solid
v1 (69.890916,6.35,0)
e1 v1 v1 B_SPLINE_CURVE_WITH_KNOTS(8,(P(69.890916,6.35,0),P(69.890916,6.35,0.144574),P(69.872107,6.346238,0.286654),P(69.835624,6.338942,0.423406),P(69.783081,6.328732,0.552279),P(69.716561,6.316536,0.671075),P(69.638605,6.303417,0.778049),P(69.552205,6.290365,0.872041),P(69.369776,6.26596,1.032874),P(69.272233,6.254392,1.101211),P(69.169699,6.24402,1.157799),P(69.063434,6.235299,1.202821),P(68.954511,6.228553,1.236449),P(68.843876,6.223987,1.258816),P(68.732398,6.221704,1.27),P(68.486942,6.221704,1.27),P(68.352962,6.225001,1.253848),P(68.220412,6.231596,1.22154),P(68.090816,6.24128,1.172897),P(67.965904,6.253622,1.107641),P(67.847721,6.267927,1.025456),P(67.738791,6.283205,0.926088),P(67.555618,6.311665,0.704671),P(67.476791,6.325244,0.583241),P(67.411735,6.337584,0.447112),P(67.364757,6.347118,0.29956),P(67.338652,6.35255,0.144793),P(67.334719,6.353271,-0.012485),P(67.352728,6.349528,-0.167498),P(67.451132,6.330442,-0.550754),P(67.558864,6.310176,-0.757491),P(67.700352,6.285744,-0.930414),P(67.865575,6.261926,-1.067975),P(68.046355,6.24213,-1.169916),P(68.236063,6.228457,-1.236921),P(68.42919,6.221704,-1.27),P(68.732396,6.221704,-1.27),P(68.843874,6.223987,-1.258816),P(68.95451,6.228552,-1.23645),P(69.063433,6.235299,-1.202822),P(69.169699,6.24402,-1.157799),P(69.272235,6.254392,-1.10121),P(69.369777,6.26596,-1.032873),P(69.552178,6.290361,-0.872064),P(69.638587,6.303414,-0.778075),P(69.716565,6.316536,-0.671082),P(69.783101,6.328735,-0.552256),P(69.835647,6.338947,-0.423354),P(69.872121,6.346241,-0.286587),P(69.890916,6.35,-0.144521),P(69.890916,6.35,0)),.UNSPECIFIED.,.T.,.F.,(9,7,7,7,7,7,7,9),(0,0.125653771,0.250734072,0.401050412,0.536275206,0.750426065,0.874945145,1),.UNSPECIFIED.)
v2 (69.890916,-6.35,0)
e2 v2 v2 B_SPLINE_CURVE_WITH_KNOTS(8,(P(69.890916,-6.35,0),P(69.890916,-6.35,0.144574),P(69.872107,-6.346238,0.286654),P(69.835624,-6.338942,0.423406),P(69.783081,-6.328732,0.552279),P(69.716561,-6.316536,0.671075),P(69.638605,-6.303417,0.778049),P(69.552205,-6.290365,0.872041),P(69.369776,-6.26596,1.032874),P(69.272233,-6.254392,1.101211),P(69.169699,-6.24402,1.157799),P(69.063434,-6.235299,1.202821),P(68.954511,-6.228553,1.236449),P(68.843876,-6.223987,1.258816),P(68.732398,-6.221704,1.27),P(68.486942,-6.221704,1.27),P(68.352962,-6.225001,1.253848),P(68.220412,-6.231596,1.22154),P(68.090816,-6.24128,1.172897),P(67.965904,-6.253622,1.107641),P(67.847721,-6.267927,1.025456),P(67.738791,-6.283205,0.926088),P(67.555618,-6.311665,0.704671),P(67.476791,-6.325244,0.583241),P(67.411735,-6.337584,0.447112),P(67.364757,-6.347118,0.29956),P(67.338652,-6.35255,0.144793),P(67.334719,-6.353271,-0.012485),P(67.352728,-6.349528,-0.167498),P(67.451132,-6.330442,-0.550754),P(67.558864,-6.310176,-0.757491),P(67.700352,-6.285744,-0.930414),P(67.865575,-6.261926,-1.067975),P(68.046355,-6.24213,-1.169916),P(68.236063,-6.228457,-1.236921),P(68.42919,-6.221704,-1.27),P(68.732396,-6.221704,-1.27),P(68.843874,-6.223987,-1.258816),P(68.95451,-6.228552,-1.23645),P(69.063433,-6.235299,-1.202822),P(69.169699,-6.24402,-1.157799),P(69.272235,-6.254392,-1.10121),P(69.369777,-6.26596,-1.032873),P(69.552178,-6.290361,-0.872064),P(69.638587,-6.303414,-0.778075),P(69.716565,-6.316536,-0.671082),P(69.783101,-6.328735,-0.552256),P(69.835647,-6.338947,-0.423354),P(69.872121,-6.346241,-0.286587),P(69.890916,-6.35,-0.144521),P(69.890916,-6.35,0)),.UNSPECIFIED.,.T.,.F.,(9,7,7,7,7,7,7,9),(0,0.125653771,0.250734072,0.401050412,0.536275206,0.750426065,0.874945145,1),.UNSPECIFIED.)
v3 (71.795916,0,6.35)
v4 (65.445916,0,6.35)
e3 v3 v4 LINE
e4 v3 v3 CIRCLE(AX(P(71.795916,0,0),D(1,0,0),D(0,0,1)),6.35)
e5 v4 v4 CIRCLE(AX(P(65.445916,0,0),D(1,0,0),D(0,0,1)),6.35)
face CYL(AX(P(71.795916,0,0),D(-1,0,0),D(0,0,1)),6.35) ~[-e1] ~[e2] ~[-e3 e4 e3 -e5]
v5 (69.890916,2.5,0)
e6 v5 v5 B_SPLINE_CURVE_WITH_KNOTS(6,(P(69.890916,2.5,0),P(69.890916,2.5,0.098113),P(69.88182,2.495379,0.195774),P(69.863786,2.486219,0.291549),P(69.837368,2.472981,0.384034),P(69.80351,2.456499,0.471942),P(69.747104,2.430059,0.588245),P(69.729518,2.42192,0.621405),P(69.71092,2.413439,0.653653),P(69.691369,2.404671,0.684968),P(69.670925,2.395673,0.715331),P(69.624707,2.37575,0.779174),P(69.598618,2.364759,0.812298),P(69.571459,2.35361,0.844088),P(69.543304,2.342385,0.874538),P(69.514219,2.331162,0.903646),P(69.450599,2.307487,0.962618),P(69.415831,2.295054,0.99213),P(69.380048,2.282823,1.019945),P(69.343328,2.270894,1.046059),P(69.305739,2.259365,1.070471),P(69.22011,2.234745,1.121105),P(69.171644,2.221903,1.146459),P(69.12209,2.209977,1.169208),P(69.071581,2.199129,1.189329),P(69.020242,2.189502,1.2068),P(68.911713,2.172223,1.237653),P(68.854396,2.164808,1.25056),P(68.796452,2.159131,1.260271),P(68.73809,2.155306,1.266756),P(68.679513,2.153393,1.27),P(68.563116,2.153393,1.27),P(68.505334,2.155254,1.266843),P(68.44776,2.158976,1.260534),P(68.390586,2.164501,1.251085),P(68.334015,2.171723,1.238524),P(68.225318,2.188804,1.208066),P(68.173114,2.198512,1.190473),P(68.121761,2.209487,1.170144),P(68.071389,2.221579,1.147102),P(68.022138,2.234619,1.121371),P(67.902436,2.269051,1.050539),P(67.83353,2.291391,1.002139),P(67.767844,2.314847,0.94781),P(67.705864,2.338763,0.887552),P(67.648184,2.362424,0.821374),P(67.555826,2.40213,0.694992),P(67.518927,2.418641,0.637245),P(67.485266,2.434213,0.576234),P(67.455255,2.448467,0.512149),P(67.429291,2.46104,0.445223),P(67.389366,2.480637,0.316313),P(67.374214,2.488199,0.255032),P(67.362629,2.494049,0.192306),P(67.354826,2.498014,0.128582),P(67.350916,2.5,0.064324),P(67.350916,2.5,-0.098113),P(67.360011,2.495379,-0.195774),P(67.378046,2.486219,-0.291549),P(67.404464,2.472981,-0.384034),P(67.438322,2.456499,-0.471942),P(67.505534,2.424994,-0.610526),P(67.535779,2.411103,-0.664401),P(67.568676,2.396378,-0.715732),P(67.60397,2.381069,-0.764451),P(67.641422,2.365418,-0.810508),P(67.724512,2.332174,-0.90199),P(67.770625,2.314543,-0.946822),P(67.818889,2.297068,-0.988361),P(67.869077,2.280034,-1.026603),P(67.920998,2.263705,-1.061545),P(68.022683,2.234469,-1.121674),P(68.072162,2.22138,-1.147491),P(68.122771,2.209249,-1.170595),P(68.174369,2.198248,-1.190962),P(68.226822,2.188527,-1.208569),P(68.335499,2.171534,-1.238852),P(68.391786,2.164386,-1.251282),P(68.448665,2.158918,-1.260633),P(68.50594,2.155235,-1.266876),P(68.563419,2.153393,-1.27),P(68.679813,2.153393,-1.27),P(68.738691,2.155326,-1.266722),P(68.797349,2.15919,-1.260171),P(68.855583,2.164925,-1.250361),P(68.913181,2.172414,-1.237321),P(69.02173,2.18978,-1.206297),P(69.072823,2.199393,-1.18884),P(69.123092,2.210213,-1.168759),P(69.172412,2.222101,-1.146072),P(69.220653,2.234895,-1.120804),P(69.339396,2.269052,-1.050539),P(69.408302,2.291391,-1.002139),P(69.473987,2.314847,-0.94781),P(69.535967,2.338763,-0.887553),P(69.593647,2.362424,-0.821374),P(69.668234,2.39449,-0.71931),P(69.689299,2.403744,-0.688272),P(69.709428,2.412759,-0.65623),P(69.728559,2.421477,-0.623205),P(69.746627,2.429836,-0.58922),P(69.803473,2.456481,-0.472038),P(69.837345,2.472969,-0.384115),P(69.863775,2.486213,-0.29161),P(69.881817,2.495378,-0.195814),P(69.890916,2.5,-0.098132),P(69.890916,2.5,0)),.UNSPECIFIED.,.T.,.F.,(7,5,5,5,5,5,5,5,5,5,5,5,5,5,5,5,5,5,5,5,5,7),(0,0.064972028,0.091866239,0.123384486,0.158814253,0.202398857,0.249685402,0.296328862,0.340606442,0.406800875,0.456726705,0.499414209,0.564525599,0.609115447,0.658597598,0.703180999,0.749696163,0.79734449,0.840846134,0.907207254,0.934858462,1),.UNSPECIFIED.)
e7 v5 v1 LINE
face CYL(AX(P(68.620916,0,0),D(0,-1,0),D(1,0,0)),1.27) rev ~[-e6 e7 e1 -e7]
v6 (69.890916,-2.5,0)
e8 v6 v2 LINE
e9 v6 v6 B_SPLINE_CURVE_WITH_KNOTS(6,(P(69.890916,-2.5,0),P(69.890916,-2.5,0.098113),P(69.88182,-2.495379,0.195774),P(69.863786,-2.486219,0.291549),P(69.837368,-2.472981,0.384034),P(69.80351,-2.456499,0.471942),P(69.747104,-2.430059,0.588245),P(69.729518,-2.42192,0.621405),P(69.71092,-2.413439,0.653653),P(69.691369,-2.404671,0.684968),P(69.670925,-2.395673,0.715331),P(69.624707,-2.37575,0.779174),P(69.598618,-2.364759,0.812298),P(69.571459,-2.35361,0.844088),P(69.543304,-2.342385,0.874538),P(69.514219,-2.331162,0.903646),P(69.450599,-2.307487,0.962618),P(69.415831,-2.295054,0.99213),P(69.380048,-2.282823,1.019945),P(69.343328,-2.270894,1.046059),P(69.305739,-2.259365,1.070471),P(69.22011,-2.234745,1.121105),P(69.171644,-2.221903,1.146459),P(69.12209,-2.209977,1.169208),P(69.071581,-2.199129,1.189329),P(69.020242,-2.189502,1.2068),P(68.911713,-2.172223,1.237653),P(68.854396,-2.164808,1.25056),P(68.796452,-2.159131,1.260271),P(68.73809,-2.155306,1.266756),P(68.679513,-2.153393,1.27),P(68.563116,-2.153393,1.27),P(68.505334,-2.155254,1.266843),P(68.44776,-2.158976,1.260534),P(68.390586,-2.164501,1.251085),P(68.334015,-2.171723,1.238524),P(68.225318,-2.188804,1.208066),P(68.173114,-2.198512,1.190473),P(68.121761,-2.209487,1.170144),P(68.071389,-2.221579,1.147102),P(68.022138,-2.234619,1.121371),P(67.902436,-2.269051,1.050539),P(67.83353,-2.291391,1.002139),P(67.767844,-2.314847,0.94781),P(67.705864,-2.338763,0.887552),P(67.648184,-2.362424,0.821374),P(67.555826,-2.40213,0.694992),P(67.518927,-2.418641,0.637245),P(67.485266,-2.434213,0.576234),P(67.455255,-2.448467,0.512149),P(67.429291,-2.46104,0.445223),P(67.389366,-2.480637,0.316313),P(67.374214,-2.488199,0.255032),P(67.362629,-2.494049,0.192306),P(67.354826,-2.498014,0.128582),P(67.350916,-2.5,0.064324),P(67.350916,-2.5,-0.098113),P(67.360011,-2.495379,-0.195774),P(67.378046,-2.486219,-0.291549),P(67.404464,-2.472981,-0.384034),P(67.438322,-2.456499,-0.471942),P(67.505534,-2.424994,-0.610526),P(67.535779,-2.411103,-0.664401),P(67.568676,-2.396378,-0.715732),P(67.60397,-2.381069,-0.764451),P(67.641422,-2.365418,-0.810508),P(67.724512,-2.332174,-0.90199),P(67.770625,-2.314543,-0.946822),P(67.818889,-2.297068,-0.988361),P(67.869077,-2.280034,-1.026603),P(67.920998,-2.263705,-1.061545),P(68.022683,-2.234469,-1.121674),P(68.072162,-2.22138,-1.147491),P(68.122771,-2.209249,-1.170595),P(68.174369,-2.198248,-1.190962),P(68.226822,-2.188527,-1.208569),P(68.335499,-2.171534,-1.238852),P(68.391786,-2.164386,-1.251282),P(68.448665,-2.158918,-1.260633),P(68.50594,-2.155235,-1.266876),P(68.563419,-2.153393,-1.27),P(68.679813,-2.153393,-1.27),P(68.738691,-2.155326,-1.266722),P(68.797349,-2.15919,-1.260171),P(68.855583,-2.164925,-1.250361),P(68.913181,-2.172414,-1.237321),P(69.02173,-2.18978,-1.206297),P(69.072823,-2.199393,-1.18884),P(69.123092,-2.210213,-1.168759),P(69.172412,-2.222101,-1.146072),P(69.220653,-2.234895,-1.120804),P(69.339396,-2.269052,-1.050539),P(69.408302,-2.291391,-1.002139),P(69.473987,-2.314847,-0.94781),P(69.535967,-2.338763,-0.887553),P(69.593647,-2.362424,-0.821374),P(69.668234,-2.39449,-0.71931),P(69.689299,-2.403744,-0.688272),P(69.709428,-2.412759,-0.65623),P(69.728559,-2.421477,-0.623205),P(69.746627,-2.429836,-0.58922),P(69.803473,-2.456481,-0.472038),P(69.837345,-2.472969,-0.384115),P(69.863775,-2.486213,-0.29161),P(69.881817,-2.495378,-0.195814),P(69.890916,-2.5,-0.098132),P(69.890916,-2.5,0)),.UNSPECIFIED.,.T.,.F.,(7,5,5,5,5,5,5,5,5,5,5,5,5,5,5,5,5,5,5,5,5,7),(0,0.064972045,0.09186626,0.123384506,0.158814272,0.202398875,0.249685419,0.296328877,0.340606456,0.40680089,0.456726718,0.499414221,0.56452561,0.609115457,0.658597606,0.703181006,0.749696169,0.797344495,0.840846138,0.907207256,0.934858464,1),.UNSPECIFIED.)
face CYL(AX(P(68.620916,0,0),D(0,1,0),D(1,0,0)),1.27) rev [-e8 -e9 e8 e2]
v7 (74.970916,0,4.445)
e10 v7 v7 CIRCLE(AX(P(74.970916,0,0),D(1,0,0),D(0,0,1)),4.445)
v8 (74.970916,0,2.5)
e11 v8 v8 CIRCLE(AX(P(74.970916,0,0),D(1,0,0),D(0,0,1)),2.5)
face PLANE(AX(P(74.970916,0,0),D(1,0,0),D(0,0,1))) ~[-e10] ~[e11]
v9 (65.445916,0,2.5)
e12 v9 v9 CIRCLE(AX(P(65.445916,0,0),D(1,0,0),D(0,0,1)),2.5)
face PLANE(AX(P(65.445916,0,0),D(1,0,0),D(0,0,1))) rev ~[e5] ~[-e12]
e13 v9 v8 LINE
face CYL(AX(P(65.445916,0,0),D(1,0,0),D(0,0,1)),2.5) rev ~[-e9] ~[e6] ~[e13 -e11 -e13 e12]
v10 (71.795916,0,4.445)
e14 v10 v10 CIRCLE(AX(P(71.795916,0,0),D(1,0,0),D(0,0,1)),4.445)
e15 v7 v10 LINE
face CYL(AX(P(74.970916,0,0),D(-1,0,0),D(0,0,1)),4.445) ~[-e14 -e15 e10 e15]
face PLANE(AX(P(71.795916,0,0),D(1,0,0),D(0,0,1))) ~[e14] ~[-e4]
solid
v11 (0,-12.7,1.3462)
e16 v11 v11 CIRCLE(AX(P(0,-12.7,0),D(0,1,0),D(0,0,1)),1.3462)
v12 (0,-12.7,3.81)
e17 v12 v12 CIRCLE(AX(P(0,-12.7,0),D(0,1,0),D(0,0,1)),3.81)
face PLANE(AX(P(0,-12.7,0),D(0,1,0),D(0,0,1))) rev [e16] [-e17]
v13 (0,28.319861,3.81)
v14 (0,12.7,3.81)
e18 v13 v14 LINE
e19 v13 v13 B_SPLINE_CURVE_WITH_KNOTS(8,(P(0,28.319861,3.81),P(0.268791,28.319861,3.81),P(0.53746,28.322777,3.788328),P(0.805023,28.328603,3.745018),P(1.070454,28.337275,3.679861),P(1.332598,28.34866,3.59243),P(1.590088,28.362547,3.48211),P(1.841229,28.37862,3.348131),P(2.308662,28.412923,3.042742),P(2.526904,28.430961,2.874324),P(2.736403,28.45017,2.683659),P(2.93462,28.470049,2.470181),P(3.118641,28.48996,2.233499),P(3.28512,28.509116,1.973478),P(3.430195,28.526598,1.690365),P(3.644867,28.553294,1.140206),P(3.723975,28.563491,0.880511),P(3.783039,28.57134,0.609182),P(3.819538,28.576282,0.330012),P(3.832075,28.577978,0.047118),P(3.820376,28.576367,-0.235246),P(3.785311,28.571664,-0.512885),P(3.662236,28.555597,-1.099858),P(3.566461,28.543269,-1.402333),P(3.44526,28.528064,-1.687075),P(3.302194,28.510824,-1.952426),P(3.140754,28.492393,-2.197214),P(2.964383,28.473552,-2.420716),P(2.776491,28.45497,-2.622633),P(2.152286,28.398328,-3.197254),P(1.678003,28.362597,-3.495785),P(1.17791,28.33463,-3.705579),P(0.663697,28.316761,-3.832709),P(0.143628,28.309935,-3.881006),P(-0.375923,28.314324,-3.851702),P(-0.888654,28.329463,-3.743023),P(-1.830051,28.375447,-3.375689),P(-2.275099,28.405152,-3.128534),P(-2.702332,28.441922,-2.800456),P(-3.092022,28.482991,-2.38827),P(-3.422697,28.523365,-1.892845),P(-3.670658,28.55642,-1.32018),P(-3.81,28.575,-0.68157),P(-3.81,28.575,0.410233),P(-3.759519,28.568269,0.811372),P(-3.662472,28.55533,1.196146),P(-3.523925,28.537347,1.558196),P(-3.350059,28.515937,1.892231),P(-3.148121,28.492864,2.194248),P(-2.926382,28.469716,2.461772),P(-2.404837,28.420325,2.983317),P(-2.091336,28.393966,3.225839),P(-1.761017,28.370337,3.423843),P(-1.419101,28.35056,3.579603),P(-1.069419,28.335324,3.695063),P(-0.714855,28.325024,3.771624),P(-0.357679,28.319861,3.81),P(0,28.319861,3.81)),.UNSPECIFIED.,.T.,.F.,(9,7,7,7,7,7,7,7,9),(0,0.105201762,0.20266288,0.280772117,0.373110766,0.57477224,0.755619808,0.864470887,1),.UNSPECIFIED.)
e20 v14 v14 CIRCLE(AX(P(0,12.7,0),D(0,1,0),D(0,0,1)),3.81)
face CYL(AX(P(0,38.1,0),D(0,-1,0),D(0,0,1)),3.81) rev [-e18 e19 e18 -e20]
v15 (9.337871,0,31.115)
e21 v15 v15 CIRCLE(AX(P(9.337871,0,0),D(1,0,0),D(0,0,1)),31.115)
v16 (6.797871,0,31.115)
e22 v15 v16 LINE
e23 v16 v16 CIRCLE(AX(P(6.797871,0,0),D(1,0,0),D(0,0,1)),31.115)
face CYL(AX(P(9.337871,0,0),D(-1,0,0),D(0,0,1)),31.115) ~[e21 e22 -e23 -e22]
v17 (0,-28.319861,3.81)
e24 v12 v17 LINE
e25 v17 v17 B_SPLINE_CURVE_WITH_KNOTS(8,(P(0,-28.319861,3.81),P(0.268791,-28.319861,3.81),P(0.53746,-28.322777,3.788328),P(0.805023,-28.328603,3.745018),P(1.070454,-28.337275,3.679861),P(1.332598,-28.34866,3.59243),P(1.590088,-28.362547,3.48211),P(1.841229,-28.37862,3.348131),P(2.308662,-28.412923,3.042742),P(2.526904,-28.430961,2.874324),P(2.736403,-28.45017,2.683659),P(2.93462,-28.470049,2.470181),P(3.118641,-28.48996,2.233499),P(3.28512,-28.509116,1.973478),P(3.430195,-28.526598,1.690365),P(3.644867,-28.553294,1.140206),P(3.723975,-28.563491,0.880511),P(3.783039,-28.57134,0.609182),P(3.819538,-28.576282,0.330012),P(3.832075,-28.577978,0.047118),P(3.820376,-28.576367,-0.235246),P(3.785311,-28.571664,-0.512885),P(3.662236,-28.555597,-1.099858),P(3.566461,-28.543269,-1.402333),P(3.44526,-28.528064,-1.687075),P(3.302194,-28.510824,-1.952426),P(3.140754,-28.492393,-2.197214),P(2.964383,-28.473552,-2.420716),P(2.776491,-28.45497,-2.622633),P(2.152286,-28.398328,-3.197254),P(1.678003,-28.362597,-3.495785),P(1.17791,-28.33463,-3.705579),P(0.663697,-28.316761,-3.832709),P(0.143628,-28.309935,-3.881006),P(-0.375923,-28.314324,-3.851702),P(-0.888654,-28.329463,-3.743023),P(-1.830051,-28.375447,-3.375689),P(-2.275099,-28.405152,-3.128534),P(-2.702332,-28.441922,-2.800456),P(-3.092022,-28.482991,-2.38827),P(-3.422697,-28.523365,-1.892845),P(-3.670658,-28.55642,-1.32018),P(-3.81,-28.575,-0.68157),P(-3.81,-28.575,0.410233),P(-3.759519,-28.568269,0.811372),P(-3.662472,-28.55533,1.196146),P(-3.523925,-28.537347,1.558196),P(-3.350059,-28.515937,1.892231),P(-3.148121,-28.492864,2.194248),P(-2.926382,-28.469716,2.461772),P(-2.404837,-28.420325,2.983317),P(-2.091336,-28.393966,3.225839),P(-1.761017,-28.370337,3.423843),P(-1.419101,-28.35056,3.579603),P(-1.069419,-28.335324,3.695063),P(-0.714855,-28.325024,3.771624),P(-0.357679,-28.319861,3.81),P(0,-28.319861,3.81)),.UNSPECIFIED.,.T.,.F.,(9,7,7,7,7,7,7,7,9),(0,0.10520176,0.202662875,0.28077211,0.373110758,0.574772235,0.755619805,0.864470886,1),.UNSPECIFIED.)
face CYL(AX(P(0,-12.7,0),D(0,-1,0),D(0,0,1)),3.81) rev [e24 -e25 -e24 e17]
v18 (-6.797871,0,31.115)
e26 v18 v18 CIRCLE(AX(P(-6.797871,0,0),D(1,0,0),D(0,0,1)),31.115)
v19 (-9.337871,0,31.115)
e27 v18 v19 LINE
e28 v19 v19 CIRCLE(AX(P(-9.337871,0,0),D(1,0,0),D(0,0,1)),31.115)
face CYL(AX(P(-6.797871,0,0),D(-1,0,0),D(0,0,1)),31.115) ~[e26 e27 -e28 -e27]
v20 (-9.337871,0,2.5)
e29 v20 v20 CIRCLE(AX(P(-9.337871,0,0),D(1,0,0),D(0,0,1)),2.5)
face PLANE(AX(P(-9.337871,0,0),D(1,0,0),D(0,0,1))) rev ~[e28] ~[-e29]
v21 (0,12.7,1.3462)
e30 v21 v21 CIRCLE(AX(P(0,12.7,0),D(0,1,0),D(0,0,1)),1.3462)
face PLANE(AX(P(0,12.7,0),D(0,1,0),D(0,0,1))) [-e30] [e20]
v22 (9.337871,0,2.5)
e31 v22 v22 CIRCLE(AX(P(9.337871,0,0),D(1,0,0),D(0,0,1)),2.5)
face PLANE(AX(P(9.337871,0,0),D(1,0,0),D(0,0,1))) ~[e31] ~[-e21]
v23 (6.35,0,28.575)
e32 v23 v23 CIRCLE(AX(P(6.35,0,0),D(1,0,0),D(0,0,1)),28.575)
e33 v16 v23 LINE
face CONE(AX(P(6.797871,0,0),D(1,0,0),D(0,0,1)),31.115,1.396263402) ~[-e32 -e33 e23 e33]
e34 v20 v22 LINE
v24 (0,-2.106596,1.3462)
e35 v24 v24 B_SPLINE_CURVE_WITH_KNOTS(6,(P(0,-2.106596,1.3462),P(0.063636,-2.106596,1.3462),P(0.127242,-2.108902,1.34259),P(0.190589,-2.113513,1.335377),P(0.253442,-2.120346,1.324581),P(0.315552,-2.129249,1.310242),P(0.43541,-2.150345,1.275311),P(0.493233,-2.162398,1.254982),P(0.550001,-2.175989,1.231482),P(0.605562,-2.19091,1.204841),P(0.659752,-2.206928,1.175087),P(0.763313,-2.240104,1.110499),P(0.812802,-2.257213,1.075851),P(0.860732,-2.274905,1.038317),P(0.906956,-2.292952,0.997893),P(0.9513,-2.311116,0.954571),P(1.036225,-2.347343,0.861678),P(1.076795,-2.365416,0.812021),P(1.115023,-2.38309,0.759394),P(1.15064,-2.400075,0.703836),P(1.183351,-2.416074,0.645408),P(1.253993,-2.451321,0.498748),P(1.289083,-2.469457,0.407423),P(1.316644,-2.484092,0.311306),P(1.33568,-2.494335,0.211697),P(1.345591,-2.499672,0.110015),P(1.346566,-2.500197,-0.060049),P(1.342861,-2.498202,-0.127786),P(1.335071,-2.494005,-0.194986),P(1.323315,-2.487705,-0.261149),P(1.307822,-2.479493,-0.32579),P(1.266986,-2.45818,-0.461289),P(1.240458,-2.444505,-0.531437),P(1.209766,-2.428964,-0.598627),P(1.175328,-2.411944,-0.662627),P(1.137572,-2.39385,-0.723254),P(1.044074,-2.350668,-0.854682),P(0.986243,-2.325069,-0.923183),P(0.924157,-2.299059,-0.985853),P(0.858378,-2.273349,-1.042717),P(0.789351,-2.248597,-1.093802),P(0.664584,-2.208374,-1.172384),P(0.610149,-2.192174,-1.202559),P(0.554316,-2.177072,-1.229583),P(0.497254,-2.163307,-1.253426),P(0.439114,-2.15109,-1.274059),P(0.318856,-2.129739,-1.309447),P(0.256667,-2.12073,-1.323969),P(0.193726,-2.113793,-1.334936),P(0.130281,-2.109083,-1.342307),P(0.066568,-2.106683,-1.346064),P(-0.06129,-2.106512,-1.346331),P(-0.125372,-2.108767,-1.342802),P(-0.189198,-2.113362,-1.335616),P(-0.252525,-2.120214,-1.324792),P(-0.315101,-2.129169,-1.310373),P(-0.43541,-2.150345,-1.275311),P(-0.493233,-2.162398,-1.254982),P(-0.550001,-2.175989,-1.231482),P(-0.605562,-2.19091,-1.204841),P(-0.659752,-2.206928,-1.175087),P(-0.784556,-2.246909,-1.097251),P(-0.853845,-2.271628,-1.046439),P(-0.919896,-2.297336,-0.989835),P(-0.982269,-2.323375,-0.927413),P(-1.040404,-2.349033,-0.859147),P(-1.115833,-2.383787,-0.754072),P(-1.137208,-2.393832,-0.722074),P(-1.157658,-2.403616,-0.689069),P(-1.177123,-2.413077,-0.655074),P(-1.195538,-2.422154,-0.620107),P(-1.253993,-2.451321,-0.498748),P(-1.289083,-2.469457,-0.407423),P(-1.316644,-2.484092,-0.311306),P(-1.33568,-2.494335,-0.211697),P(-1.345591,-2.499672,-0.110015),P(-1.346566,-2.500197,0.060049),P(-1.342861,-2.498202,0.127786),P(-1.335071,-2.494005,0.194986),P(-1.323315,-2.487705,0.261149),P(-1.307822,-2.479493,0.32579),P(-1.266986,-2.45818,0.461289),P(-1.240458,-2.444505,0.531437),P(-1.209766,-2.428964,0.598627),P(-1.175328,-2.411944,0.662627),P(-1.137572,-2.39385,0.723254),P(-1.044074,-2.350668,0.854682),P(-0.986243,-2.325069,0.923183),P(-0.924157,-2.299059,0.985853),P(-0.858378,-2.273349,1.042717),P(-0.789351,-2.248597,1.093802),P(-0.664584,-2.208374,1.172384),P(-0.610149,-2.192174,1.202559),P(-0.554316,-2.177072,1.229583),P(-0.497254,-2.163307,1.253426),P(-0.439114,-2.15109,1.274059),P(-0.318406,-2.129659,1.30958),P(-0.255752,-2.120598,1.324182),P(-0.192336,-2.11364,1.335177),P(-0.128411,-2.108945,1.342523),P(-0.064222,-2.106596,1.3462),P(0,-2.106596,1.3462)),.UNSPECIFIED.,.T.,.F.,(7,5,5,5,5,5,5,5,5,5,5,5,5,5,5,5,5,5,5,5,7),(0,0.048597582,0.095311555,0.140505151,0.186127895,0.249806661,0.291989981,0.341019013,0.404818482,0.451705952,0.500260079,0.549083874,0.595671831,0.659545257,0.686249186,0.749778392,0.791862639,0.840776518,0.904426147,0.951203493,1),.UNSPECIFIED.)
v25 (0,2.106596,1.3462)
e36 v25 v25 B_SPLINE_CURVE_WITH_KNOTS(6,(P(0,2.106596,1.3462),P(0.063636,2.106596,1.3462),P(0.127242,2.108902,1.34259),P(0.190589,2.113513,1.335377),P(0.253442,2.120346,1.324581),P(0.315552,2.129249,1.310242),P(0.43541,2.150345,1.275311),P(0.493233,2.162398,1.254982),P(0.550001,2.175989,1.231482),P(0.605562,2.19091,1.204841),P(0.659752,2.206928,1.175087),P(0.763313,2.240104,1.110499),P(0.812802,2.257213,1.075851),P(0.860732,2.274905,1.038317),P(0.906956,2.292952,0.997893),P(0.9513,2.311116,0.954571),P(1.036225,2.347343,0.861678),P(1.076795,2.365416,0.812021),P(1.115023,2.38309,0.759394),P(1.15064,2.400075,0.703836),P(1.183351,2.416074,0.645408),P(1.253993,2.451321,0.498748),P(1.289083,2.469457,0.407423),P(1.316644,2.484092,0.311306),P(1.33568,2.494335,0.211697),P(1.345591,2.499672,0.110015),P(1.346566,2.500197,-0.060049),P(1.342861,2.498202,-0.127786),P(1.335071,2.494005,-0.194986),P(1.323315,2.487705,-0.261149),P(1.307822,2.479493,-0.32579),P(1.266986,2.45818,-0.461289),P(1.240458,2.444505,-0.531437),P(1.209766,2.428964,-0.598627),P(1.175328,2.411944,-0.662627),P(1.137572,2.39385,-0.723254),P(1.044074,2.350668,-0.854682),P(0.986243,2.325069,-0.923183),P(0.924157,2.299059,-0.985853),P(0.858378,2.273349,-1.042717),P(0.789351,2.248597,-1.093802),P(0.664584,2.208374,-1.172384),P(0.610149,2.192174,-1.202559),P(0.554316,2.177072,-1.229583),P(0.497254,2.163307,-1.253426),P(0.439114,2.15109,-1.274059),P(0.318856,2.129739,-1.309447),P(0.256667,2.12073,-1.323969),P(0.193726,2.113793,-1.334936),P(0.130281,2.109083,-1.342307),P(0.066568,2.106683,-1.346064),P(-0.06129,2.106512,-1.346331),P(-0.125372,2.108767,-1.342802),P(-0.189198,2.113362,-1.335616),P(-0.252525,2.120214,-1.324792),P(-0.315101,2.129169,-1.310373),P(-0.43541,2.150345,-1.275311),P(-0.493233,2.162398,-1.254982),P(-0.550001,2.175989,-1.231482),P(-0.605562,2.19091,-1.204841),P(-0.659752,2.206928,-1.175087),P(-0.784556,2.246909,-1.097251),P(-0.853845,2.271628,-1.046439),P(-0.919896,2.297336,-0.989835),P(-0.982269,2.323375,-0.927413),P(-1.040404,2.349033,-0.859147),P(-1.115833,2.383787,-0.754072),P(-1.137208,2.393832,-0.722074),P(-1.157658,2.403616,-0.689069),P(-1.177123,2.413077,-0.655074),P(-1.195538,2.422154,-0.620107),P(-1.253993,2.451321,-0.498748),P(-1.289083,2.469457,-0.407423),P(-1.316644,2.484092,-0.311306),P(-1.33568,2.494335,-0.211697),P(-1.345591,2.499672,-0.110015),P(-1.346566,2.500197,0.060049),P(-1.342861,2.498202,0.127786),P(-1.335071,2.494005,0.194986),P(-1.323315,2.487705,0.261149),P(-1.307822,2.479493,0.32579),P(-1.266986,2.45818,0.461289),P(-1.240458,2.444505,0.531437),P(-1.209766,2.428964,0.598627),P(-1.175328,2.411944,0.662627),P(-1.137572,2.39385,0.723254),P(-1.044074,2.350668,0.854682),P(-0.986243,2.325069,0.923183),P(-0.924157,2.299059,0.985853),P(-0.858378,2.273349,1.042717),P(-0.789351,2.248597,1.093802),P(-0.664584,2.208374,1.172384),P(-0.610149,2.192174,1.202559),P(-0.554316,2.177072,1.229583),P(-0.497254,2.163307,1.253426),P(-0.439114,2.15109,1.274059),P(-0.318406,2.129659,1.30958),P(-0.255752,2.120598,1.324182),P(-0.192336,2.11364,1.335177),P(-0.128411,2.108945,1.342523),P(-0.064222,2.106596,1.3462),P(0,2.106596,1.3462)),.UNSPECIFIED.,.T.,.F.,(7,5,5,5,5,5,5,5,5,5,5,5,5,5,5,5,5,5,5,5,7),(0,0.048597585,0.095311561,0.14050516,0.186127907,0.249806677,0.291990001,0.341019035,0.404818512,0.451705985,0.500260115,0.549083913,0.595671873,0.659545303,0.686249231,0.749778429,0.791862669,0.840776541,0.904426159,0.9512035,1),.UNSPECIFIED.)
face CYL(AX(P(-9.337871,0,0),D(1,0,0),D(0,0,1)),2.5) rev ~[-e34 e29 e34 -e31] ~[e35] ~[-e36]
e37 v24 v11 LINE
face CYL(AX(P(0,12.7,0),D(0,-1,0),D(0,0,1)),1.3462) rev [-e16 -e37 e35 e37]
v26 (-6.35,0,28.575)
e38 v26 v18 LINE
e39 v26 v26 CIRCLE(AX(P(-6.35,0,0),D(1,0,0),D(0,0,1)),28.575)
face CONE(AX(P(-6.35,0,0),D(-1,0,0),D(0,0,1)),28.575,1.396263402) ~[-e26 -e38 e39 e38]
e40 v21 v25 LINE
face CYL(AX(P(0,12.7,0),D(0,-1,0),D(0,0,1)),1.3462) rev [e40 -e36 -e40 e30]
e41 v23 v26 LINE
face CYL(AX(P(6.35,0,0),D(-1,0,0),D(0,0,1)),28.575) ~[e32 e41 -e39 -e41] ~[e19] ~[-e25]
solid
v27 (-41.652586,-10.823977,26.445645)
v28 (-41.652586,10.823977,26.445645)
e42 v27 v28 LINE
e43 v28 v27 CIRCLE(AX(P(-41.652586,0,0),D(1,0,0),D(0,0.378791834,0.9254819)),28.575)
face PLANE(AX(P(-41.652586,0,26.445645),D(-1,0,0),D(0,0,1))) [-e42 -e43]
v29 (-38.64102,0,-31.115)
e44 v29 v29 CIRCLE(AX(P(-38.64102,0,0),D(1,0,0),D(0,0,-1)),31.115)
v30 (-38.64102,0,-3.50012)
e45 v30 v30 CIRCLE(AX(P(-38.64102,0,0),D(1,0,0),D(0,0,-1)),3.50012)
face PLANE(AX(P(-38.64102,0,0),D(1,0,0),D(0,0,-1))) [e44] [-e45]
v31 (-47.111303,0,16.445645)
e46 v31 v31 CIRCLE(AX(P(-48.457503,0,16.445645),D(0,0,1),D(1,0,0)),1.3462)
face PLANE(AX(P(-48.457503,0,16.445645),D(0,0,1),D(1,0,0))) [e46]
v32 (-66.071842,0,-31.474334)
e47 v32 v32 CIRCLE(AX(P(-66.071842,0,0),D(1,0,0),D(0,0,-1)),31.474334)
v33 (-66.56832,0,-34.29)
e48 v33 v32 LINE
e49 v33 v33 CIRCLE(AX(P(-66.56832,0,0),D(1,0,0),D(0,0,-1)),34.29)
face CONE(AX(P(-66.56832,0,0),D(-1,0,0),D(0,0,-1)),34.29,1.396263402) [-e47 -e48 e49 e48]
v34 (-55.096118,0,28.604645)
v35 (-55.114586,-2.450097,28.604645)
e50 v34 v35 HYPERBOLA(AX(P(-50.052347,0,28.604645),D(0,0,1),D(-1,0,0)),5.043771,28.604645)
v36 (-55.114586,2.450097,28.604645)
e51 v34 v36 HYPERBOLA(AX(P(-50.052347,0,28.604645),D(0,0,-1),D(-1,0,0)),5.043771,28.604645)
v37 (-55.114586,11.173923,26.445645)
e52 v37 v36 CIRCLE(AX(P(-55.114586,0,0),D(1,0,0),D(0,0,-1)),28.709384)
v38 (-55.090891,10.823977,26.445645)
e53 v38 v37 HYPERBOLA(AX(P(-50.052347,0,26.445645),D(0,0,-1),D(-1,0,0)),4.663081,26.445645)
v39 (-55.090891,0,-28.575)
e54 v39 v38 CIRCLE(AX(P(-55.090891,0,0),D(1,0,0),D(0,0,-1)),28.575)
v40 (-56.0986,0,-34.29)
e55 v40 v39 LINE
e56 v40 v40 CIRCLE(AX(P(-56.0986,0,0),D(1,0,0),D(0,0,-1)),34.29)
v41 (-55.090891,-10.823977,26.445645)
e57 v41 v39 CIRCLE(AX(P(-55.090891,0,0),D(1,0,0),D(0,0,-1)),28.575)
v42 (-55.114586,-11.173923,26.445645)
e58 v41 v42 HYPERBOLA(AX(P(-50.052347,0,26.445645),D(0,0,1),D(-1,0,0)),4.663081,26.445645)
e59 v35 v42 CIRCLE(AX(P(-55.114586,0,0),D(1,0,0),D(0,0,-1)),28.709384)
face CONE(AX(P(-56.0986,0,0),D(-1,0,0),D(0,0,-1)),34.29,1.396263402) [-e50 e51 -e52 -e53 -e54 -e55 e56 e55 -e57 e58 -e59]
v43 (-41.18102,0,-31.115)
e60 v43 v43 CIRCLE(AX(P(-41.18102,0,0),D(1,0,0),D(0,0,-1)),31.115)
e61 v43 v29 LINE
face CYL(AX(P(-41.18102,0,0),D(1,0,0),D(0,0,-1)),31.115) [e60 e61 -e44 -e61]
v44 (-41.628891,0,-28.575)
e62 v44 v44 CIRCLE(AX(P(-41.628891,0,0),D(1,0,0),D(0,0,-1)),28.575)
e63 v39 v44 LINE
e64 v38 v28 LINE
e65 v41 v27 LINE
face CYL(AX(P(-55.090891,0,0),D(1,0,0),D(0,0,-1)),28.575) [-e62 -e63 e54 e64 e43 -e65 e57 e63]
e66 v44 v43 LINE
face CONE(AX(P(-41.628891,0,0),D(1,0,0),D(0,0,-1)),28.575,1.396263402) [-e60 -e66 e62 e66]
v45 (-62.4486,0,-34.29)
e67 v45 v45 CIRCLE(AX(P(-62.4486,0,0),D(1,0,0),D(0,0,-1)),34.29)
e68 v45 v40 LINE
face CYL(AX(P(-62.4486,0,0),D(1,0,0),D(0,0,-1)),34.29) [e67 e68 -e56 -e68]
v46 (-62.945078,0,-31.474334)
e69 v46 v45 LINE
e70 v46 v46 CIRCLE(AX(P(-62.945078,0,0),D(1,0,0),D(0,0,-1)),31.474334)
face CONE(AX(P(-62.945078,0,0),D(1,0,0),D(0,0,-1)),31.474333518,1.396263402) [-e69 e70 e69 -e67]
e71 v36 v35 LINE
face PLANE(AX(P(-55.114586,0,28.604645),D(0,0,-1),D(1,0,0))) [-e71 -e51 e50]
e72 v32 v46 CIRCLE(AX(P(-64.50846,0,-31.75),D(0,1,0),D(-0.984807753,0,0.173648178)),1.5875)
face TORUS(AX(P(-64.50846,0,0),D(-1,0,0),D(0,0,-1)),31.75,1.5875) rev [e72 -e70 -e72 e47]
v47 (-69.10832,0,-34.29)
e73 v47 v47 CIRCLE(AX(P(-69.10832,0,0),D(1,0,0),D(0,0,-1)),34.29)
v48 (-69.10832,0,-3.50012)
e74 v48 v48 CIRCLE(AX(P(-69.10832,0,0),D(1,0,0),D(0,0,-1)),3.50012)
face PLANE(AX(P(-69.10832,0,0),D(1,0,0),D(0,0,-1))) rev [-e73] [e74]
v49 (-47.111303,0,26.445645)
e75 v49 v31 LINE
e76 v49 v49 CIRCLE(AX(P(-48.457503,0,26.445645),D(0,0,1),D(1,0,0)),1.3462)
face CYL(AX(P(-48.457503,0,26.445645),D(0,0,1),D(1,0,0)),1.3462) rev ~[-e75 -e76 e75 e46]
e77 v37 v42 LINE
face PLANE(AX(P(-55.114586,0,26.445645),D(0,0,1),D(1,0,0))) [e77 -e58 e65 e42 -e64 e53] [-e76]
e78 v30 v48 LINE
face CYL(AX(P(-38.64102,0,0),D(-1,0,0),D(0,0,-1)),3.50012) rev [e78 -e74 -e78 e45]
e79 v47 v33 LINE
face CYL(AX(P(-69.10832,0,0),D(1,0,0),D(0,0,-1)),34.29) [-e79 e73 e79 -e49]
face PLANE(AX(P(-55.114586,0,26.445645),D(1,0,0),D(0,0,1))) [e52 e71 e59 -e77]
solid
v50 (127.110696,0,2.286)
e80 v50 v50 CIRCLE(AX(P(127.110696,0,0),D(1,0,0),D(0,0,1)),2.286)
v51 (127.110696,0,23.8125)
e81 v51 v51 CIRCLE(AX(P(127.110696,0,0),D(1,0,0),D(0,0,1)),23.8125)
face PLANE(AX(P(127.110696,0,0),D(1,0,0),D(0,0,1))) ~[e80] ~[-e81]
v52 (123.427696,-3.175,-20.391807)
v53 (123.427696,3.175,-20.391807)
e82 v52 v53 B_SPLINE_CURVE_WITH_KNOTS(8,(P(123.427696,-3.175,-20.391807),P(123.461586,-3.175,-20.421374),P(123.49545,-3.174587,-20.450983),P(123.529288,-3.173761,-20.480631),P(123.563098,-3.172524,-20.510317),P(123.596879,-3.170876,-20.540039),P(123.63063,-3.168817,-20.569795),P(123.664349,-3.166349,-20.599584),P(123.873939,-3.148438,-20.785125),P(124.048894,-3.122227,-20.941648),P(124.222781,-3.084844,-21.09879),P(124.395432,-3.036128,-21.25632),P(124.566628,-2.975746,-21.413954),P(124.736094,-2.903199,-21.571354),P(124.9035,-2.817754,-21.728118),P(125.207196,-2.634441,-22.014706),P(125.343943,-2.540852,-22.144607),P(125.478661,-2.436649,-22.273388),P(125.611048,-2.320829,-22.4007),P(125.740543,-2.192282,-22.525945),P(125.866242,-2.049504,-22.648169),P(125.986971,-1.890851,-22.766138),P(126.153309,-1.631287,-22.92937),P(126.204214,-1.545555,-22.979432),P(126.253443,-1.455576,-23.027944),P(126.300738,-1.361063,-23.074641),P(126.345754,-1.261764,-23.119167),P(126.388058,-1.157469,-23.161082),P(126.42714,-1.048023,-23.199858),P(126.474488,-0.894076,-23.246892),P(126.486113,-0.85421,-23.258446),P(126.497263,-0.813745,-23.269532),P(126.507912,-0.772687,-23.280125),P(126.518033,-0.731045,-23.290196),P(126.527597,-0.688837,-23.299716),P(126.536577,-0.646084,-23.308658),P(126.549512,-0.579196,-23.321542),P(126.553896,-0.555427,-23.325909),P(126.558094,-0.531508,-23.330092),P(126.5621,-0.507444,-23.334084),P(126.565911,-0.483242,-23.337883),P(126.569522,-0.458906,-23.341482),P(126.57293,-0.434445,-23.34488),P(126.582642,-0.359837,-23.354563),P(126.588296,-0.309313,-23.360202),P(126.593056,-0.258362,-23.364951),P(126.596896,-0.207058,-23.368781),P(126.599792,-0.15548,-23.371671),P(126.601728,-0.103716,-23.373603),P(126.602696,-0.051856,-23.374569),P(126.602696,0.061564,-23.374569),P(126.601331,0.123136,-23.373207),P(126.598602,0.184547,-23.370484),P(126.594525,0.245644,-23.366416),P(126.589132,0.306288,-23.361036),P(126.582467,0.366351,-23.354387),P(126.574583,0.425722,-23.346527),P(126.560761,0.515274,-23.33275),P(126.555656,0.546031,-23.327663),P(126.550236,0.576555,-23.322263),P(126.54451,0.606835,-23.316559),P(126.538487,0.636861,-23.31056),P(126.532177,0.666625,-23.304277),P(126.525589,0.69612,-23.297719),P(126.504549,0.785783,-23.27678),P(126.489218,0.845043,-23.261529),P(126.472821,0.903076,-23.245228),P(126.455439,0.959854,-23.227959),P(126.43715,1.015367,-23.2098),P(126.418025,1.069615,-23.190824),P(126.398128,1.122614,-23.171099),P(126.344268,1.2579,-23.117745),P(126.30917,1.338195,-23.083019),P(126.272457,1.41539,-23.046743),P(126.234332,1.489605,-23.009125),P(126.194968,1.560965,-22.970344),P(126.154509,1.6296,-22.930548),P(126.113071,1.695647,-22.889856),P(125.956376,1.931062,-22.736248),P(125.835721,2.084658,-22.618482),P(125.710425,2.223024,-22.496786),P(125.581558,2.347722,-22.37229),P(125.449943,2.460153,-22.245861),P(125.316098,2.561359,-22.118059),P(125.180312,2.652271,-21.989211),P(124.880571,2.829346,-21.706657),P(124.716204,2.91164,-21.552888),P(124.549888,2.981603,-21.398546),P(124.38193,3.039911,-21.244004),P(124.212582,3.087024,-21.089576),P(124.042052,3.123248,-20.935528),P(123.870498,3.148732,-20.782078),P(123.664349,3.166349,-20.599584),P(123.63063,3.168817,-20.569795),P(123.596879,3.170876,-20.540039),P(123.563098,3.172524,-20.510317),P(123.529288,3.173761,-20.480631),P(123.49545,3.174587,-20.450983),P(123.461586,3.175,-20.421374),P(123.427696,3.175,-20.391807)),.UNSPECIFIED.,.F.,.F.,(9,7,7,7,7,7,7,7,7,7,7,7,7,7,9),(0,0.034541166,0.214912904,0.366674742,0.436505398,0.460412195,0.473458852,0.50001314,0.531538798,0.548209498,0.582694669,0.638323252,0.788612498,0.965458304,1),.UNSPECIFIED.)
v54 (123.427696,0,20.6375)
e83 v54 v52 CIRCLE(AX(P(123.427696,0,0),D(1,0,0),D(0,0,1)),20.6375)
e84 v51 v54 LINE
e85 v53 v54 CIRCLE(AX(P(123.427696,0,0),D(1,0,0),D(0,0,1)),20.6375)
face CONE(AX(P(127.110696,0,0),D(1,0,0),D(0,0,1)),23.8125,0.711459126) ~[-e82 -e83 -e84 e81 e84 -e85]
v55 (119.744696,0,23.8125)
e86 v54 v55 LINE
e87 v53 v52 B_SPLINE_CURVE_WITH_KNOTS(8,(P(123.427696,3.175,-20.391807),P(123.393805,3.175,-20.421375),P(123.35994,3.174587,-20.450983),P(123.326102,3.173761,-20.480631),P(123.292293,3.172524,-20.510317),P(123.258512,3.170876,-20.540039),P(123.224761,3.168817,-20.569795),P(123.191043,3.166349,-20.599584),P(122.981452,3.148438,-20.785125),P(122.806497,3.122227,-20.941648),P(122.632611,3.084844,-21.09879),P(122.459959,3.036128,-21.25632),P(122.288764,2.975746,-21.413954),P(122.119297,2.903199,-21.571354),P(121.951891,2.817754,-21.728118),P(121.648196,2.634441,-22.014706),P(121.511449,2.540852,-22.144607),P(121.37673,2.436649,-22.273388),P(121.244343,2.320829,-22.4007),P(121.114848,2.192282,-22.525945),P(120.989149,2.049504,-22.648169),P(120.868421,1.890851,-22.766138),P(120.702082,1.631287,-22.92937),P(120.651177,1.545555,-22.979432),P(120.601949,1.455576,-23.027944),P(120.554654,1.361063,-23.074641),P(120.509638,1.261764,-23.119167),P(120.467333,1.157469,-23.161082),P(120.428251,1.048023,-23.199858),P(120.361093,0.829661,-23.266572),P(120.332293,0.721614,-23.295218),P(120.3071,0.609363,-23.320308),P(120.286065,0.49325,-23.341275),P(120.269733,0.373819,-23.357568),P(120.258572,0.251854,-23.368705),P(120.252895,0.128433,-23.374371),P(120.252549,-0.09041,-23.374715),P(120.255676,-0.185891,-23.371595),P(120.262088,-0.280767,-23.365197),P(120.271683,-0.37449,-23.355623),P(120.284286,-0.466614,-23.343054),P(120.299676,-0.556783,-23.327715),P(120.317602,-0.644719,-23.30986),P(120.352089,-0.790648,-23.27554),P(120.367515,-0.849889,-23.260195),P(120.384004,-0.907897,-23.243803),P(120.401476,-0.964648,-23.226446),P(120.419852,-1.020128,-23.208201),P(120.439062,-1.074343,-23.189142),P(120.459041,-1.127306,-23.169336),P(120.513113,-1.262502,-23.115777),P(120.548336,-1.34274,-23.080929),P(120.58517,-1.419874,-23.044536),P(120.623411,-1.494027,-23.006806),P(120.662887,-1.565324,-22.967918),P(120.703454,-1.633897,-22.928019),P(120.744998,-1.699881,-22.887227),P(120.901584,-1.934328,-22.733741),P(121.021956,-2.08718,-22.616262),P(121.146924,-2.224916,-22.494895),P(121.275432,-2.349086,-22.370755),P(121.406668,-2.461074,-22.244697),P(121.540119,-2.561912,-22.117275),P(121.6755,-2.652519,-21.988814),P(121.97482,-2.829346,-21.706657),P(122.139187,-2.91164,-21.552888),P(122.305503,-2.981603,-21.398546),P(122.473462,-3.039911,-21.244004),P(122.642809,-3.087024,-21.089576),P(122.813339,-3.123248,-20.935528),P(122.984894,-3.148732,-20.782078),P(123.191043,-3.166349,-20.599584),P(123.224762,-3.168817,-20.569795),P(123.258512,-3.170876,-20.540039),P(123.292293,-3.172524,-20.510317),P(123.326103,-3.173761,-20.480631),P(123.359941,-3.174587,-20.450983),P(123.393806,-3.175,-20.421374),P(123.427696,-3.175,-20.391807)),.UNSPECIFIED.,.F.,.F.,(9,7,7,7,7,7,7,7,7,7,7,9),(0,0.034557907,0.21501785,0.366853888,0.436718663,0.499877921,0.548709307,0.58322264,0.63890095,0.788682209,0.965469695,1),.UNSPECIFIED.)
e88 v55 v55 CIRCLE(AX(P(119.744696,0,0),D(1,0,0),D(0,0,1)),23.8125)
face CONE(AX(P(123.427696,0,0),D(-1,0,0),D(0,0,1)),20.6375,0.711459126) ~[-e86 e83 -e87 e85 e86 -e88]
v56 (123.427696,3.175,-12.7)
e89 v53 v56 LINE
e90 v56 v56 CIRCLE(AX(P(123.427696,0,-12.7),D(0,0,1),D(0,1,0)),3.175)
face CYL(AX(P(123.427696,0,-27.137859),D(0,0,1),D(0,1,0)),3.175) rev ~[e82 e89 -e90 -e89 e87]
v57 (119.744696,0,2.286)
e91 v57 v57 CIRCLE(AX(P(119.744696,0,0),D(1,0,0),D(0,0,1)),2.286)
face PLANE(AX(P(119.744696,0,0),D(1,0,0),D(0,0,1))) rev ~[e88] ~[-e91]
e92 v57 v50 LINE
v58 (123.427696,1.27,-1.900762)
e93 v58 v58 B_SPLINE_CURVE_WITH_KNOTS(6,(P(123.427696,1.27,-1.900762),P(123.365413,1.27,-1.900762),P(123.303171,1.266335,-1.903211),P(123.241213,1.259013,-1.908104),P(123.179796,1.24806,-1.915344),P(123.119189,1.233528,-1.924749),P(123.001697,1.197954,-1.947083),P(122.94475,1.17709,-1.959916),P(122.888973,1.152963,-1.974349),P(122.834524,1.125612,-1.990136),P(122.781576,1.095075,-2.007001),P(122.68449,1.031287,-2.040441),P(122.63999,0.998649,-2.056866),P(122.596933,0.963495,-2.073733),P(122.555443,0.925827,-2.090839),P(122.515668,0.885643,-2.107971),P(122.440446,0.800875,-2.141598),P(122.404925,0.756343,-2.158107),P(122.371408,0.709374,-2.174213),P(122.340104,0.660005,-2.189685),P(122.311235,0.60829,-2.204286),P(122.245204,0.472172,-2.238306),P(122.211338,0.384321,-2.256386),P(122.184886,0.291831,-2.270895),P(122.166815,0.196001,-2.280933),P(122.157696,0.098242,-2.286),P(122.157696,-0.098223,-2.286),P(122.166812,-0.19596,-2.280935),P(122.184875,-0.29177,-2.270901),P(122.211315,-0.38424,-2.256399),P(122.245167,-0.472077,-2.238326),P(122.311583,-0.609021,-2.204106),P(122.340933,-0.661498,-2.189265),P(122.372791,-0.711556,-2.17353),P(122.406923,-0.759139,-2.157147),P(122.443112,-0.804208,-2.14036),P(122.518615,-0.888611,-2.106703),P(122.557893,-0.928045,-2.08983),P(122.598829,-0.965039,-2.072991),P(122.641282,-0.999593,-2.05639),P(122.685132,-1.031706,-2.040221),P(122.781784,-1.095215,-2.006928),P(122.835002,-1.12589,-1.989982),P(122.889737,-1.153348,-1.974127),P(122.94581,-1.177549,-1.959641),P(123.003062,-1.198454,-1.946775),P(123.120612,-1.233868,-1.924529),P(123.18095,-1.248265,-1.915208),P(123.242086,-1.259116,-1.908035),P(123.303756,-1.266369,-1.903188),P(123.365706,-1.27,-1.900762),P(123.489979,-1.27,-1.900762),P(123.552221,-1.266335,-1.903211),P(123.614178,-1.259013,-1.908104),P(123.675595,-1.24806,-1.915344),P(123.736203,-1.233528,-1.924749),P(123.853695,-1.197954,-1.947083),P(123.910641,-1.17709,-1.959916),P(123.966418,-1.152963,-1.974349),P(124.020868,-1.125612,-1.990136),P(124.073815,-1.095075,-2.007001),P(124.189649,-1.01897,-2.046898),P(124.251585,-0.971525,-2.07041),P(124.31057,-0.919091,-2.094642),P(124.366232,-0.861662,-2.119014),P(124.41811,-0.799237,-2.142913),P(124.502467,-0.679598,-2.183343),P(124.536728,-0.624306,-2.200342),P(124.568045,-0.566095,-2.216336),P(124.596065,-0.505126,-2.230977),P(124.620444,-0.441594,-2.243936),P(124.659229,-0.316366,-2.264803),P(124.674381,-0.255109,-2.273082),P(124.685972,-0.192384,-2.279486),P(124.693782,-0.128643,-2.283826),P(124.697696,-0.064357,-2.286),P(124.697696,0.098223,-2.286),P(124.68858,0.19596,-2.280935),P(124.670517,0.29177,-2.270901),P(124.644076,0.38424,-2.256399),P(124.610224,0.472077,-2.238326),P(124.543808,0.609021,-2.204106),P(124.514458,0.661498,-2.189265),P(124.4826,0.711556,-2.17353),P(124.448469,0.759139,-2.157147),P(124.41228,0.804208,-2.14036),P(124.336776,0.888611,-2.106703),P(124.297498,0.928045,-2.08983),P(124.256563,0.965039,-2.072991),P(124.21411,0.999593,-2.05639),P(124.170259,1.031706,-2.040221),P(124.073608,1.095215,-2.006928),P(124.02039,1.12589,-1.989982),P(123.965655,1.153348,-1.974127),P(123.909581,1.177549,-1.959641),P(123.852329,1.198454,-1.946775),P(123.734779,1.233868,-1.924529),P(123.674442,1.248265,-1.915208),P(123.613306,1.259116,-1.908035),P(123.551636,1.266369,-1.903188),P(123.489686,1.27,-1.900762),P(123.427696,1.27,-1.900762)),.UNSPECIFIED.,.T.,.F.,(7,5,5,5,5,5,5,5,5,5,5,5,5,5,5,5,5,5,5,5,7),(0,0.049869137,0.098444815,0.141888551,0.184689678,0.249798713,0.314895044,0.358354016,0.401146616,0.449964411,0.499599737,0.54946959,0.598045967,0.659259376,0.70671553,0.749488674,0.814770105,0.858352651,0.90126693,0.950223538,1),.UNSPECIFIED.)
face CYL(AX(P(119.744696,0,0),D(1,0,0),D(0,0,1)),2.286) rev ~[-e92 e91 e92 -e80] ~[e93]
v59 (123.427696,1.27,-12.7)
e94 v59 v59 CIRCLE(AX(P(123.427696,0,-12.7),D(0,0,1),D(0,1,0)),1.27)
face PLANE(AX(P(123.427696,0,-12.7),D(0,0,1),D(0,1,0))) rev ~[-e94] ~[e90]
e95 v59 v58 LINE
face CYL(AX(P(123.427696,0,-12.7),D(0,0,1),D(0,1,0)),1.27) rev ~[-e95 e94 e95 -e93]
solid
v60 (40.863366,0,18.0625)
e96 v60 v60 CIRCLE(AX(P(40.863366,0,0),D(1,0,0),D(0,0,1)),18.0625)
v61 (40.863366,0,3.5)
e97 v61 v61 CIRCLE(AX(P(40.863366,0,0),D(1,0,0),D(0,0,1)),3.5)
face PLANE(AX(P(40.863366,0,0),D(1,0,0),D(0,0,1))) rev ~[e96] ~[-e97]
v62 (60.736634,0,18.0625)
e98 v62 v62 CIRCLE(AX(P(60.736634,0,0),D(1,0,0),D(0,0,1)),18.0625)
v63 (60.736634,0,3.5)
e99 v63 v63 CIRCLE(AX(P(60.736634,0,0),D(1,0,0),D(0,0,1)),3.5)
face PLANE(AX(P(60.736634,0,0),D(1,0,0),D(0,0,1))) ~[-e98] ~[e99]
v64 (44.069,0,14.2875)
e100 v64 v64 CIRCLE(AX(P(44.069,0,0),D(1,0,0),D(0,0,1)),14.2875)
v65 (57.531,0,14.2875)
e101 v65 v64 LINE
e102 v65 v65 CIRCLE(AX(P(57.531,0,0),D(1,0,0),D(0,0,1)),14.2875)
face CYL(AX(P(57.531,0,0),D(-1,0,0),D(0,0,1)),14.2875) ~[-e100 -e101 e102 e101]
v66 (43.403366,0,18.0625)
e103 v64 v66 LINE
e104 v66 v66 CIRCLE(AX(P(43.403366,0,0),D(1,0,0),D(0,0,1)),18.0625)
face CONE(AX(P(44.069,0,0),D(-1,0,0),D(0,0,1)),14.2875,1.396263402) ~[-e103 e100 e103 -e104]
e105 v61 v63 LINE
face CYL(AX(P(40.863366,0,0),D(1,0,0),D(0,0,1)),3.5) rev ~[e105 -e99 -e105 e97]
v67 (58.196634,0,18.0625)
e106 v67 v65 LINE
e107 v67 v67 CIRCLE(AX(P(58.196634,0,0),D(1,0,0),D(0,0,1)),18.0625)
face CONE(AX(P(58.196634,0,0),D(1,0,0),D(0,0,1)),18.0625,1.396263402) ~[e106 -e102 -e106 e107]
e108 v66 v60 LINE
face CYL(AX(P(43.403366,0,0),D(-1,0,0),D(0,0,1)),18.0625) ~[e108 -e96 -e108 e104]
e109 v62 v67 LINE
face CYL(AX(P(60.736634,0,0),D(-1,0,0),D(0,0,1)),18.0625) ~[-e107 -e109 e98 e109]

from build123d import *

# Parameters (mm, degrees)
F4_W           = 13.462
F4_H           = 2.159
F5_DEPTH       = 34.291
F5_DEPTH_BACK  = 34.291
F6_R           = 1.3462
F7_DEPTH       = 10
F14_R          = 1.27
F15_DEPTH      = 34.291
F15_DEPTH_BACK = 34.291


with BuildPart() as f1:
    # F0 (on Front) → F1 (revolve)
    with BuildSketch(Plane.XZ):
        Polygon((40.8633656478, 18.0625), (40.8633656478, 3.5), (50.8, 3.5), (60.7366343522, 3.5), (60.7366343522, 18.0625), (58.1966343522, 18.0625), (57.531, 14.2875), (44.069, 14.2875), (43.4033656478, 18.0625), align=None)
    revolve(axis=Axis((0.5526728928, 0, 0), (1, 0, 0)))


with BuildPart() as f3:
    # F2 (on Front) → F3 (revolve)
    with BuildSketch(Plane.XZ):
        with BuildLine():
            Line((-38.6410203302, -3.50012), (-69.1083201107, -3.50012))
            Line((-69.1083201107, -3.50012), (-69.1083201107, -34.29))
            Line((-69.1083201107, -34.29), (-66.5683201107, -34.29))
            Line((-66.5683201107, -34.29), (-66.0718421412, -31.474333518))
            ThreePointArc((-66.0718421412, -31.474333518), (-64.5084598333, -30.1625), (-62.9450775254, -31.474333518))
            Line((-62.9450775254, -31.474333518), (-62.4485995559, -34.29))
            Line((-62.4485995559, -34.29), (-56.0985995559, -34.29))
            Line((-56.0985995559, -34.29), (-55.0908908612, -28.575))
            Line((-55.0908908612, -28.575), (-41.6288908612, -28.575))
            Line((-41.6288908612, -28.575), (-41.1810203302, -31.115))
            Line((-41.1810203302, -31.115), (-38.6410203302, -31.115))
            Line((-38.6410203302, -31.115), (-38.6410203302, -3.50012))
        make_face()
    revolve(axis=Axis((-42.0171124861, 0, 0), (1, 0, 0)))

    # F4 (on Front) → F5 (cut, two sides)
    with BuildSketch(Plane.XZ) as f5_sk:
        with Locations((-48.3835863111, 27.525145282)):
            Rectangle(F4_W, F4_H)
    extrude(amount=-F5_DEPTH, mode=Mode.SUBTRACT)
    extrude(f5_sk.sketch, amount=F5_DEPTH_BACK, mode=Mode.SUBTRACT)

    # F6 (on face) → F7 (cut)
    with BuildSketch(Plane.XY.offset(26.445645282)):
        with Locations((-48.4575033188, 0)):
            Circle(F6_R)
    extrude(amount=-F7_DEPTH, mode=Mode.SUBTRACT)


with BuildPart() as f9:
    # F8 (on Front) → F9 (revolve)
    with BuildSketch(Plane.XZ):
        Polygon((-9.337870531, 2.5), (9.337870531, 2.5), (9.337870531, 31.115), (6.797870531, 31.115), (6.35, 28.575), (-6.35, 28.575), (-6.797870531, 31.115), (-9.337870531, 31.115), align=None)
    revolve(axis=Axis((5.2288658917, 0, 0), (1, 0, 0)))

    # F10 (on Right) → F11 (revolve, cut)
    with BuildSketch(Plane.YZ):
        Polygon((-38.1, 0), (0, 0), (38.1, 0), (38.1, 3.81), (12.7, 3.81), (12.7, 1.3462), (-12.7, 1.3462), (-12.7, 3.81), (-38.1, 3.81), align=None)
    revolve(axis=Axis((0, 2.3429269935, 0), (0, 1, 0)), mode=Mode.SUBTRACT)


with BuildPart() as f13:
    # F12 (on Front) → F13 (revolve)
    with BuildSketch(Plane.XZ):
        Polygon((65.4459159136, 2.5), (74.9709159136, 2.5), (74.9709159136, 4.445), (71.7959159136, 4.445), (71.7959159136, 6.35), (65.4459159136, 6.35), align=None)
    revolve(axis=Axis((68.2688262314, 0, 0), (1, 0, 0)))

    # F14 (on Front) → F15 (cut, two sides)
    with BuildSketch(Plane.XZ) as f15_sk:
        with Locations((68.6209159136, 0)):
            Circle(F14_R)
    extrude(amount=-F15_DEPTH, mode=Mode.SUBTRACT)
    extrude(f15_sk.sketch, amount=F15_DEPTH_BACK, mode=Mode.SUBTRACT)


with BuildPart() as f17:
    # F16 (on Front) → F17 (revolve)
    with BuildSketch(Plane.XZ):
        Polygon((127.1106957231, 2.286), (127.1106957231, 23.8125), (123.4276957231, 20.6375), (119.7446957231, 23.8125), (119.7446957231, 2.286), align=None)
    revolve(axis=Axis((104.0105185987, 0, 0), (1, 0, 0)))

    # F19 (on mid) → F20 (revolve, cut)
    with BuildSketch(Plane.YZ.offset(123.4276957231)):
        Polygon((1.27, -12.7), (1.27, 0), (0, 0), (0, -27.1378587931), (3.175, -27.1378587931), (3.175, -12.7), align=None)
    revolve(axis=Axis((123.4276957231, 0, 9.4858286902), (0, 0, 1)), mode=Mode.SUBTRACT)


solid = Compound([f1.part, f3.part, f9.part, f13.part, f17.part])
